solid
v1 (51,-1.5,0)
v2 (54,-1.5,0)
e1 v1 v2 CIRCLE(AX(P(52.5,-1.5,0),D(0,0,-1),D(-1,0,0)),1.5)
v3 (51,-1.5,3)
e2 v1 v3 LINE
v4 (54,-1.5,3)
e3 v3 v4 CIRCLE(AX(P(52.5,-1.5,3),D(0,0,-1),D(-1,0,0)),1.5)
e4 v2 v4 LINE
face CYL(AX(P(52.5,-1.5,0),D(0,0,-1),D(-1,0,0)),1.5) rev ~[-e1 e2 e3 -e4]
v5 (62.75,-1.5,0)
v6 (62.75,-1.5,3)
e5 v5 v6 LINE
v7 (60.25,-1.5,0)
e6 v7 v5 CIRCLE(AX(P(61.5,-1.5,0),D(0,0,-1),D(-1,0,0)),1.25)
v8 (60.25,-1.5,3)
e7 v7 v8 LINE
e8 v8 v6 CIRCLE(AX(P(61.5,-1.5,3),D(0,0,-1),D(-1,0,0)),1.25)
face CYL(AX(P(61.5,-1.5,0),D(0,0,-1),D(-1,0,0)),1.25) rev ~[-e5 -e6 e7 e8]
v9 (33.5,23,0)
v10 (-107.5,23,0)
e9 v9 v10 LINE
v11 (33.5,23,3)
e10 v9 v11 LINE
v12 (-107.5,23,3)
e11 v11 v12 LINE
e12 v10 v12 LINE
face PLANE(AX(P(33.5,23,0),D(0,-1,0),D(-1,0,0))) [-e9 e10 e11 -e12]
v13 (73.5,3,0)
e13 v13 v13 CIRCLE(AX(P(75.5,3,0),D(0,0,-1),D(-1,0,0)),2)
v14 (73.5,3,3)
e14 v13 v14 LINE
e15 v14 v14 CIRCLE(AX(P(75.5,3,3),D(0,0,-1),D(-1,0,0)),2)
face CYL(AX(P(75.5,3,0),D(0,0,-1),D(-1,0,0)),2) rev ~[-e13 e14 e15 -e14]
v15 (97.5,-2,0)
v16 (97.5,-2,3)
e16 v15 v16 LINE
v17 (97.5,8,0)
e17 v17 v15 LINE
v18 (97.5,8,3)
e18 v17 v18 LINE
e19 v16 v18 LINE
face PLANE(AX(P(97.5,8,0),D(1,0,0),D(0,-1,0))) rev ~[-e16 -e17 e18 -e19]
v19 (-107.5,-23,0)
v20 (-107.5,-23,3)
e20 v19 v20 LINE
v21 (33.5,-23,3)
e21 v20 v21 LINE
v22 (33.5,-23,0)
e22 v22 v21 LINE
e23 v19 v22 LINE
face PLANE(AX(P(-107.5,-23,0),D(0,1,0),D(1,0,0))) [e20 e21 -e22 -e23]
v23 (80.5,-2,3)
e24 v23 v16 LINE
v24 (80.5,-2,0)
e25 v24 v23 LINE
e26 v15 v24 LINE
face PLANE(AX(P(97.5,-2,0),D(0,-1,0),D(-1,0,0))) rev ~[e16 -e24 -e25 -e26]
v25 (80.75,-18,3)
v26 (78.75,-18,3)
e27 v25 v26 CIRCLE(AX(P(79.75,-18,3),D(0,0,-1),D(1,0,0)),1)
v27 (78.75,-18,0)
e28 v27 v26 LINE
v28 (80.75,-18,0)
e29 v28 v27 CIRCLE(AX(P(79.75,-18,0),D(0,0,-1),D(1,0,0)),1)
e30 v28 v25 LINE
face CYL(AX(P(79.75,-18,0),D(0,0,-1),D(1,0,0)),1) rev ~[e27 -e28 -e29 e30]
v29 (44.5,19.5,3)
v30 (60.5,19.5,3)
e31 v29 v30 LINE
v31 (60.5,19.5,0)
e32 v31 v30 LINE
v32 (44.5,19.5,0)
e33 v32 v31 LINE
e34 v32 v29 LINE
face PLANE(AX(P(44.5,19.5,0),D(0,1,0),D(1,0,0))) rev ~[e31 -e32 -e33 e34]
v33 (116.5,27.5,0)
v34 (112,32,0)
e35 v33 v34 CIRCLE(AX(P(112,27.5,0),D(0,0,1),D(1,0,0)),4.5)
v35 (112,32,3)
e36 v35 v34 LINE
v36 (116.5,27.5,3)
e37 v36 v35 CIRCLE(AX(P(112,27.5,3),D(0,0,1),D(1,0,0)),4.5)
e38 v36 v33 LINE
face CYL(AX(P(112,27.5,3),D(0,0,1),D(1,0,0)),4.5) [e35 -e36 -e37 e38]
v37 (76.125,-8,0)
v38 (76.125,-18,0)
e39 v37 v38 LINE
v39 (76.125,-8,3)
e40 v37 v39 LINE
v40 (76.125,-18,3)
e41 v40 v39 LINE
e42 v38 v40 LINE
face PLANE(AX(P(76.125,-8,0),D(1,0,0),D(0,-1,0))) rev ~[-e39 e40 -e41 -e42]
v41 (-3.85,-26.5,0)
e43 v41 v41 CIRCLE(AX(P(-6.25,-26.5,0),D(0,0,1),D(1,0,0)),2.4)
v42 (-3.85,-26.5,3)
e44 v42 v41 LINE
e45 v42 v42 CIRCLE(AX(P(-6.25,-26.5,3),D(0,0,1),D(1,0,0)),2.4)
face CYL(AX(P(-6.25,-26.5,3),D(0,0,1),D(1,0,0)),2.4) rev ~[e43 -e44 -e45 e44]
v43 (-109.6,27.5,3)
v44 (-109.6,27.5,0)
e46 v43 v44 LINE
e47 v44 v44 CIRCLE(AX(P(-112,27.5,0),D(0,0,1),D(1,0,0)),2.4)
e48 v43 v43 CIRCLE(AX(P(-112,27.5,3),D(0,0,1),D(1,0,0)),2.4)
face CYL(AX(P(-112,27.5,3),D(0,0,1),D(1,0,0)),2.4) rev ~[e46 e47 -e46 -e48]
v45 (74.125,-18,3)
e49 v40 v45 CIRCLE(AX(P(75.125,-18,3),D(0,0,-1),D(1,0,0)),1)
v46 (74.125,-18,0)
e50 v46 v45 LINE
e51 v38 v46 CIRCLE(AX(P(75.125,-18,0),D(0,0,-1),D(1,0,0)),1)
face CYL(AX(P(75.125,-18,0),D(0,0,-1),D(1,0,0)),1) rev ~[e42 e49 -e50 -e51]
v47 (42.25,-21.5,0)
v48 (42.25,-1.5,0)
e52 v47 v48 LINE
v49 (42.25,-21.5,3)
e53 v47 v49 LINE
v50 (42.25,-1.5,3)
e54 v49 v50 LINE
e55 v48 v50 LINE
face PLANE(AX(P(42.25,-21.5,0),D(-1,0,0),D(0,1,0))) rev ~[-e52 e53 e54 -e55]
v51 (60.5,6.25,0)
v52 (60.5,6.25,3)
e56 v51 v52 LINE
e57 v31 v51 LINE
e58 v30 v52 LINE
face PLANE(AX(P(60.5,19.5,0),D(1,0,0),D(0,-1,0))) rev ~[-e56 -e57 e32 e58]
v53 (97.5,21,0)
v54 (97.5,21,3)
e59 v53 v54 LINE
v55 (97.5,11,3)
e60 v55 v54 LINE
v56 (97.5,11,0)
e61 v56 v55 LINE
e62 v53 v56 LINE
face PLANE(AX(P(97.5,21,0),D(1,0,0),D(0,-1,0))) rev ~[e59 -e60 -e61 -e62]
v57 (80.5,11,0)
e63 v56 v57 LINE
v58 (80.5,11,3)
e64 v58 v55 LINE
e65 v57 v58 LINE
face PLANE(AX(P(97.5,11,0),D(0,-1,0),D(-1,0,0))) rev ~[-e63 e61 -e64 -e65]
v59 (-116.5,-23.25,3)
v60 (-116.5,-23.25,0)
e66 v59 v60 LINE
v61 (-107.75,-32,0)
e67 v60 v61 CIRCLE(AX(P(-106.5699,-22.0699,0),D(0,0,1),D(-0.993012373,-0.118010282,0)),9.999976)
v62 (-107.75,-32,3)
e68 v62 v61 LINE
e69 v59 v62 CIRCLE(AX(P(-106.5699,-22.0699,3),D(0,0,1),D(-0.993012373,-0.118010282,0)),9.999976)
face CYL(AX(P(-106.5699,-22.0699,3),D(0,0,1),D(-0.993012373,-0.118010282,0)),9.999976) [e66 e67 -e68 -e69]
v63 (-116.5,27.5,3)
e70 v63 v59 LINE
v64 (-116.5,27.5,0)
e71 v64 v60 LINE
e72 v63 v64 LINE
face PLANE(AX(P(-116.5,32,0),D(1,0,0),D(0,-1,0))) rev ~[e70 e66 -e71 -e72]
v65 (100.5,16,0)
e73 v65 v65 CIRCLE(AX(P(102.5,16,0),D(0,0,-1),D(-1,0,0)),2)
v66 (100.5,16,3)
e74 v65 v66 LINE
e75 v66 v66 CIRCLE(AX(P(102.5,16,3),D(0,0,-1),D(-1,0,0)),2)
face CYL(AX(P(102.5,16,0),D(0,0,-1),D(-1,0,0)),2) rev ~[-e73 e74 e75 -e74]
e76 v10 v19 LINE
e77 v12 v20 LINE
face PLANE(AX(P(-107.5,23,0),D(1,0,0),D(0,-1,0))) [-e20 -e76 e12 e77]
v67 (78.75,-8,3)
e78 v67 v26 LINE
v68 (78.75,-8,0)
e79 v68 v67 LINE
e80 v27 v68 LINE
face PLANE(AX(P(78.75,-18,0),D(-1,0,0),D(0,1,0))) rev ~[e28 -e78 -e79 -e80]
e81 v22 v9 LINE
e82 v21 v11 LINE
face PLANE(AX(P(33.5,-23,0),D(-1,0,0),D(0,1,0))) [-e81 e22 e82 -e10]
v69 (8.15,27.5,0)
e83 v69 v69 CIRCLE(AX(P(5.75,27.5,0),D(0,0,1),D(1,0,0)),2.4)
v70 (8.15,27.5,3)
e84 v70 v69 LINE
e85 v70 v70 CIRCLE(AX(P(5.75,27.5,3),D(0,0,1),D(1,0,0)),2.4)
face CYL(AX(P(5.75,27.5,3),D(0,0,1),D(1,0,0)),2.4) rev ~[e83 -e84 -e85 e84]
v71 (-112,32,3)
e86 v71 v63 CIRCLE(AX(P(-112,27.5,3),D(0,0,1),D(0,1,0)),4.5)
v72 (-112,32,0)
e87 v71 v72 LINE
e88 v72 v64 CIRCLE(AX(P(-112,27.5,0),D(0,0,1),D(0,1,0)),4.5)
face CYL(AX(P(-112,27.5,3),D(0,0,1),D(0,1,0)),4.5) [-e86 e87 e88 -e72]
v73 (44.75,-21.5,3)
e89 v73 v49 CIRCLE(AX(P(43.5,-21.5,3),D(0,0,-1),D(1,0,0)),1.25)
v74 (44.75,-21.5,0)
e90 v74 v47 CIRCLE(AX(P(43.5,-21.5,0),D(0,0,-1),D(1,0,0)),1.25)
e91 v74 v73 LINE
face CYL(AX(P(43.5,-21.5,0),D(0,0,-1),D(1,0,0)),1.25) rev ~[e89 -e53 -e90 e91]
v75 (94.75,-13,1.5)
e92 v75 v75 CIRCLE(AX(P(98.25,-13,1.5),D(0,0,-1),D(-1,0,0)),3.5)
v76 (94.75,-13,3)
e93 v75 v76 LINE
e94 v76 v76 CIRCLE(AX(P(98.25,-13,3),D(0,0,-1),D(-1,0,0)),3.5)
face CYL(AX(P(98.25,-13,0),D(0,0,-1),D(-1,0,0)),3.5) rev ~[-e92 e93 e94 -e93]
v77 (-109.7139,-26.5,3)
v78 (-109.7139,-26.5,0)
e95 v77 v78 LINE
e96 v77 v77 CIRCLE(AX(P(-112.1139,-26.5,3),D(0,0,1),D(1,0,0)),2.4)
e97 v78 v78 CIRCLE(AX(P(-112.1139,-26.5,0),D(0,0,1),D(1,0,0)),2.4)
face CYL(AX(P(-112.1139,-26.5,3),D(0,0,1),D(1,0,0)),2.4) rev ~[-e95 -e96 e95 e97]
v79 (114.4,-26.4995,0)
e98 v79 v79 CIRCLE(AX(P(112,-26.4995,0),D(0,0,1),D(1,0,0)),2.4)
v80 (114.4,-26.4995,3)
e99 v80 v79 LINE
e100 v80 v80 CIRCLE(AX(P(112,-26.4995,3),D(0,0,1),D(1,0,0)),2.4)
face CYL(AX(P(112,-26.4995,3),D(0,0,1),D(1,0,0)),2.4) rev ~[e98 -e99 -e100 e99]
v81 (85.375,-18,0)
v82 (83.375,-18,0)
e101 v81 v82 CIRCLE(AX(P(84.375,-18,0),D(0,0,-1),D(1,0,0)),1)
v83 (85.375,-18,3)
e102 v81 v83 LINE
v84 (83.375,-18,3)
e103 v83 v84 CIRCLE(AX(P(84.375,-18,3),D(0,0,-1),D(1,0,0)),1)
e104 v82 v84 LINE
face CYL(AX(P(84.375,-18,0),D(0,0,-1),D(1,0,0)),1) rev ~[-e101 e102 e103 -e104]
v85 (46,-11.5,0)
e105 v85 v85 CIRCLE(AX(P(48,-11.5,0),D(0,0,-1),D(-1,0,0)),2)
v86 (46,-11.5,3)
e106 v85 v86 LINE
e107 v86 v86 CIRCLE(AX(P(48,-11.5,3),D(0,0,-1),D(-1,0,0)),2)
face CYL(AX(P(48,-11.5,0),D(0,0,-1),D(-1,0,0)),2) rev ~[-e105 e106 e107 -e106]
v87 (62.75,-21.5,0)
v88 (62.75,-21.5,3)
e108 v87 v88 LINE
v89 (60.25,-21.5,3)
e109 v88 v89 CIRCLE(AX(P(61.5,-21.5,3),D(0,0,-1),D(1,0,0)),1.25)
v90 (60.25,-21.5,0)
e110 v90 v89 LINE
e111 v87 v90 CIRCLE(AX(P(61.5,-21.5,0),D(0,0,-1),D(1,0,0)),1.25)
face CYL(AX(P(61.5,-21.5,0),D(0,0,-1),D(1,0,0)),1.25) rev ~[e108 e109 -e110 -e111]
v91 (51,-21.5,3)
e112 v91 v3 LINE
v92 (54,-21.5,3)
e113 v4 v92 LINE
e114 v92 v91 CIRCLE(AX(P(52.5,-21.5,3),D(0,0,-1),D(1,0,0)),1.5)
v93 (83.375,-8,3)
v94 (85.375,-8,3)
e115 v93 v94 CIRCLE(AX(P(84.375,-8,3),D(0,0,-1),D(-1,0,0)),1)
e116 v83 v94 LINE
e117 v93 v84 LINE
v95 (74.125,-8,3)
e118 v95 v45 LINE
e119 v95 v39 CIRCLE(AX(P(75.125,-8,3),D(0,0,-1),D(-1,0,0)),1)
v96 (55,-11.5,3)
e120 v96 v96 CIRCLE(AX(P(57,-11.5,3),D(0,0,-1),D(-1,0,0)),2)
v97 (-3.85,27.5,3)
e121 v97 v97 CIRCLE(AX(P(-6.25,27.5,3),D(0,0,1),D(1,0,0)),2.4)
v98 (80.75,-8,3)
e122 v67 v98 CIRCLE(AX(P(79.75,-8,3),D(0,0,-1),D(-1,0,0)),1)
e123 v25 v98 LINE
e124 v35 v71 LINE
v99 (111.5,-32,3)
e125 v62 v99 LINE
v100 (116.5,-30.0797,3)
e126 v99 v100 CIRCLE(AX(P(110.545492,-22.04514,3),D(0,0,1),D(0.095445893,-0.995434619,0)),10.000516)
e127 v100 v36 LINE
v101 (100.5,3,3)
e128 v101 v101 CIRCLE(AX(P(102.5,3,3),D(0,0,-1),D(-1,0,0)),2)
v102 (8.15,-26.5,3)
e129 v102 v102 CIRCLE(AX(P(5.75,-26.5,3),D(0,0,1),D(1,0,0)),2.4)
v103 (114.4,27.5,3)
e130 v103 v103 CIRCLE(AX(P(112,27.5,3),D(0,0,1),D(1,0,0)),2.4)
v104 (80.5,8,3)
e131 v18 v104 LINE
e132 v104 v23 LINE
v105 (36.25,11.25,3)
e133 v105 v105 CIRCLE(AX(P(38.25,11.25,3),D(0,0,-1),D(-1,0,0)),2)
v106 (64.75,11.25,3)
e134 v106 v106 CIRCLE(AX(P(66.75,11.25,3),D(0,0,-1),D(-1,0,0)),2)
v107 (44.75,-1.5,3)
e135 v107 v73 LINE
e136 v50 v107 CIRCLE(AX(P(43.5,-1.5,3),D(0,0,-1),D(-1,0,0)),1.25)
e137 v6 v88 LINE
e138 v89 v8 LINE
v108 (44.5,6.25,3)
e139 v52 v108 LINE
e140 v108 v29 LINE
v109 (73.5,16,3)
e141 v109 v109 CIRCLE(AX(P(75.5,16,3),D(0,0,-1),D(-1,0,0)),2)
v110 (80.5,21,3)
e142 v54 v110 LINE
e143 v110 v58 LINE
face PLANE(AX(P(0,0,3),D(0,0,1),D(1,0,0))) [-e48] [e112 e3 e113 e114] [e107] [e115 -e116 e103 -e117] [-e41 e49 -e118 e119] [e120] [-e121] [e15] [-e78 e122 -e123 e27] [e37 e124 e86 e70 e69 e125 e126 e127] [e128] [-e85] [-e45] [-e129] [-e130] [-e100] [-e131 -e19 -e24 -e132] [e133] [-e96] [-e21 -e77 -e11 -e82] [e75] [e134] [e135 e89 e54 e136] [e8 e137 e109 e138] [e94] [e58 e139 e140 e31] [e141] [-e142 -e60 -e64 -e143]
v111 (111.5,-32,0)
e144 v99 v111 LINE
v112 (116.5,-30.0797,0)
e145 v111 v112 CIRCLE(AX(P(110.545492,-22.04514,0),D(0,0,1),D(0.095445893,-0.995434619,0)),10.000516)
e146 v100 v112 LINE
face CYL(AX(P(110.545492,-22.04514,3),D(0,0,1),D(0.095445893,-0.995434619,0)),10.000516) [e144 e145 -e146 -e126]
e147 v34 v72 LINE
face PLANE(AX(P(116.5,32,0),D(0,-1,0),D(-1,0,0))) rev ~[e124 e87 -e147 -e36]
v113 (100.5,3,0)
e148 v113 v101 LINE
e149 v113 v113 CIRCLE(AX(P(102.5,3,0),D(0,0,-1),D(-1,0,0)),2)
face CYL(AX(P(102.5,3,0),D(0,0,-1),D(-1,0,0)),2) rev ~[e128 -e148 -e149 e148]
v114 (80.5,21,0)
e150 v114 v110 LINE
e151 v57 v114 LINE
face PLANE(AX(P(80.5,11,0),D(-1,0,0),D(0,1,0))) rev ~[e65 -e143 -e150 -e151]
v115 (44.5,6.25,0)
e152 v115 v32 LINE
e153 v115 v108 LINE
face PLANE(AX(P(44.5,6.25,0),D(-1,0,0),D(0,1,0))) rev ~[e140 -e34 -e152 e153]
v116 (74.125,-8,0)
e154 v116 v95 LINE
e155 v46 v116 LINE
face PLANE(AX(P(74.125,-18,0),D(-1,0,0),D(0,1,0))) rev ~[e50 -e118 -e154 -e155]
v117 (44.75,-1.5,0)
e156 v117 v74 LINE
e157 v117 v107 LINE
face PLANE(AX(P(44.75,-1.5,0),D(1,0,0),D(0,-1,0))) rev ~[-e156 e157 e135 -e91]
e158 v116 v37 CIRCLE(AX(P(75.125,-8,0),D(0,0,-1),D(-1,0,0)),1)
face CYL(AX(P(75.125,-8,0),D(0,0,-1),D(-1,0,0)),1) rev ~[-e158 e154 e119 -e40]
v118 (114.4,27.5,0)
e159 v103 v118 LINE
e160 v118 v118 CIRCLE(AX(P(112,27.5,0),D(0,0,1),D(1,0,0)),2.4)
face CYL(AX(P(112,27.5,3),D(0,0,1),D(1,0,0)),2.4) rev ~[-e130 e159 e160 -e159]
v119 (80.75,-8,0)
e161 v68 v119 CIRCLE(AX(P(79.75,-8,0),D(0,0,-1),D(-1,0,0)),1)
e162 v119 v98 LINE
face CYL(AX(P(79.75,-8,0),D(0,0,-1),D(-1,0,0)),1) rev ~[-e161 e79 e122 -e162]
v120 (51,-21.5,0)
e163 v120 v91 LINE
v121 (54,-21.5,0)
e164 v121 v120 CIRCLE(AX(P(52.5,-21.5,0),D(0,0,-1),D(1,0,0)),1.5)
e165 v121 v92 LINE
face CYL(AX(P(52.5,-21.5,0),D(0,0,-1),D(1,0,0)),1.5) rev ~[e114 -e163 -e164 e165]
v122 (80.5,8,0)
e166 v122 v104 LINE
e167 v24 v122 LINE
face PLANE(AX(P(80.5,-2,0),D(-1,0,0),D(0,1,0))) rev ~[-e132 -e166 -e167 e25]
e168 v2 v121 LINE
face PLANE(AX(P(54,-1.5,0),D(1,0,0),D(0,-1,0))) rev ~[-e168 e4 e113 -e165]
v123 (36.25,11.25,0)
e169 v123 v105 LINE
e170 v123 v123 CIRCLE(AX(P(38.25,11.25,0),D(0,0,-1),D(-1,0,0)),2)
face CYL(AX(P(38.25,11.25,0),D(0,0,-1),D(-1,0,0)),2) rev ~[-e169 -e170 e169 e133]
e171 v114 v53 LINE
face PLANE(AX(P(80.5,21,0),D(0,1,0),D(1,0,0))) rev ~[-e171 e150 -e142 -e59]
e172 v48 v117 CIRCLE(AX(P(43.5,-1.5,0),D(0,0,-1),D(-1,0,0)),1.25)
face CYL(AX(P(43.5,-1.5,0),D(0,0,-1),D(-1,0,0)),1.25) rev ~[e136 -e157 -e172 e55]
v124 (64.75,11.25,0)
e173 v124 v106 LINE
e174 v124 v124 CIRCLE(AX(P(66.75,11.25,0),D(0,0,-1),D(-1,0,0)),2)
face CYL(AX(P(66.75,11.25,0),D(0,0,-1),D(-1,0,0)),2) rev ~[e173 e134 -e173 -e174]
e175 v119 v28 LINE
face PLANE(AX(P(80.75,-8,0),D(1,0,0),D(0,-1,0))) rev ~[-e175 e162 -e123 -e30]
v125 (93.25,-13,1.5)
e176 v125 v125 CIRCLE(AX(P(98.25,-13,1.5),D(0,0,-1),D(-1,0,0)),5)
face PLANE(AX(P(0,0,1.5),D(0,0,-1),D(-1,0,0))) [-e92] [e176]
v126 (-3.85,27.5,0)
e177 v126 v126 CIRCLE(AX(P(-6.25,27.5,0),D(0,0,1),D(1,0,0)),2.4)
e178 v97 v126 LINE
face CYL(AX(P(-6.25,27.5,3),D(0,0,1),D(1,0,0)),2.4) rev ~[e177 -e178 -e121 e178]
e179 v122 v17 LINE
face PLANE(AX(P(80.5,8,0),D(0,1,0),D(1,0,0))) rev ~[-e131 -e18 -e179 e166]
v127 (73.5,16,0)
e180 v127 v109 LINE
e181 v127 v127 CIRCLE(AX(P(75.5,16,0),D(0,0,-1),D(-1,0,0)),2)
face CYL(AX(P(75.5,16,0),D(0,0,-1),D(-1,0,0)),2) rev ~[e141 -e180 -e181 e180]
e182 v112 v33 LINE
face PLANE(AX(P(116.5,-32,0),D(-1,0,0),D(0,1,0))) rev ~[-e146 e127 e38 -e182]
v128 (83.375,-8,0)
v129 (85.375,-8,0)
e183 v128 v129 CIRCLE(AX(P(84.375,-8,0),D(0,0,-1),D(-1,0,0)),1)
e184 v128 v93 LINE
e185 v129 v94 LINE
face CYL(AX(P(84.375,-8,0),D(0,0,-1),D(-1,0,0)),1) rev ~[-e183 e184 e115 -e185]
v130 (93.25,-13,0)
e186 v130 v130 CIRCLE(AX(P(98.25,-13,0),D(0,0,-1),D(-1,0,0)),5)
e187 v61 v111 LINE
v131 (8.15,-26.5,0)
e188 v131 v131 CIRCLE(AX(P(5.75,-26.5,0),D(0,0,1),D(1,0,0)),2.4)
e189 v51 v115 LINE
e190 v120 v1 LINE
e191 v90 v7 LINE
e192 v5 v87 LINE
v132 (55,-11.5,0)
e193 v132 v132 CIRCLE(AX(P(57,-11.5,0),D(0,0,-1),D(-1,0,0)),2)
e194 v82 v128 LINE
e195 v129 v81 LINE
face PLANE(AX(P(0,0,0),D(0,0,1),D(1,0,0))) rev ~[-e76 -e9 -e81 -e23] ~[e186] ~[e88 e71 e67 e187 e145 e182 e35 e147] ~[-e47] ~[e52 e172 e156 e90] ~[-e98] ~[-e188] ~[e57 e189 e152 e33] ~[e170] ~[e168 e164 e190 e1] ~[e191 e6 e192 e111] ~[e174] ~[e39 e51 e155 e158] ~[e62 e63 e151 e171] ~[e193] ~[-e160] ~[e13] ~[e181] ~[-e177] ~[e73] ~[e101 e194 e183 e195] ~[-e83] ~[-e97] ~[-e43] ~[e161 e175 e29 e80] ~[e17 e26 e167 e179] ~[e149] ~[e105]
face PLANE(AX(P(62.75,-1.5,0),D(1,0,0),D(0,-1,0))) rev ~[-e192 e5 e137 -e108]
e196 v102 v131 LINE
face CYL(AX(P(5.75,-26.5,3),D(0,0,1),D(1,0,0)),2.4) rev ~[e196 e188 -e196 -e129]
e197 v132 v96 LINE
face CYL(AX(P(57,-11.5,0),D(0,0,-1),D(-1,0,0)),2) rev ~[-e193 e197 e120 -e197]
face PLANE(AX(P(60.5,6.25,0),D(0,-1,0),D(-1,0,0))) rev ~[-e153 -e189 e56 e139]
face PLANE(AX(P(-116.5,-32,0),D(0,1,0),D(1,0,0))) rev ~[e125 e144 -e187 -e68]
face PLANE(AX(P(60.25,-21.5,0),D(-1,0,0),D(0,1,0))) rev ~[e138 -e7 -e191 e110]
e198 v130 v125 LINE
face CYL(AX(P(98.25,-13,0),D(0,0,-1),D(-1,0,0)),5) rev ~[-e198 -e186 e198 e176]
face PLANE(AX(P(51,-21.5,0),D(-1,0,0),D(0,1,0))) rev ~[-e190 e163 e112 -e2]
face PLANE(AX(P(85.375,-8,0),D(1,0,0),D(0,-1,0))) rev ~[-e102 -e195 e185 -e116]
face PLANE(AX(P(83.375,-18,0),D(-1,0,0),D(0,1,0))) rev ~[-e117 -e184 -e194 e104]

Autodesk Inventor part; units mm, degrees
ref_plane "YZ Plane" through (0, 0, 0) normal (1, 0, 0) x (0, 1, 0)
ref_plane "XZ Plane" through (0, 0, 0) normal (0, 1, 0) x (-1, 0, 0)
ref_plane "XY Plane" through (0, 0, 0) normal (0, 0, 1) x (1, 0, 0)
sketch "Sketch1" plane through (0, 0, 0) normal (0, 0, 1) x (1, 0, 0)
  line L0 (-116.5, -32) -> (116.5, -32)
  line L1 (116.5, -32) -> (116.5, 32)
  line L2 (116.5, 32) -> (-116.5, 32)
  line L3 (-116.5, 32) -> (-116.5, -32)
  line L4 (-116.5, -32) -> (116.5, 32) construction
  line L5 (116.5, -32) -> (-116.5, 32) construction
  point P0 (0, 0)
  dimension "d0" = 233
  dimension "d1" = 64
extrude "Extrusion1" add sketch "Sketch1" along normal blind 3
sketch "Sketch2" plane through (0, 0, 3) normal (0, 0, 1) x (1, 0, 0)
  arc A0 (-112, 32) -> (-116.5, 27.5) centre (-112, 27.5) ccw
  line L0 (116.5, 32) -> (-116.5, 32) projected
  line L1 (-116.5, 32) -> (-116.5, -32) projected
  arc A1 (116.5, 27.5) -> (112, 32) centre (112, 27.5) ccw
  line L2 (116.5, -32) -> (116.5, 32) projected
  line L3 (-112, 27.5) -> (-112, -26.5) construction
  line L4 (-116.5, -32) -> (116.5, -32) construction
  line L5 (-112, -26.5) -> (-107.482, -26.5) construction
  line L6 (-107.482, -26.5) -> (-107.482, -22) construction
  line L7 (-107.5, -22) -> (107.5, -22) construction
  line L8 (107.5, -22) -> (107.5, 23) construction
  line L9 (107.5, 23) -> (-107.5, 23) construction
  line L10 (-107.5, 23) -> (-107.5, -22) construction
  line L11 (-107.5, -22) -> (107.5, 23) construction
  line L12 (107.5, -22) -> (-107.5, 23) construction
  point P0 (0, 0)
  point P1 (0, 0.5)
  dimension "d4" = 9
  dimension "d5" = 9
  dimension "d6" = 54
  dimension "d7" = 4.518
  dimension "d8" = 4.5
  dimension "d9" = 215
  dimension "d10" = 45
  dimension "d11" = 9
  dimension "d12" = 9
  dimension "d13" = 9
extrude "Extrusion2" cut sketch "Sketch2" against normal blind 5
sketch "Sketch6" plane through (0, 0, 3) normal (0, 0, 1) x (1, 0, 0)
  line L0 (107.5, -22) -> (-107.5, -22) construction
  line L1 (-107.5, -22) -> (-116.5, -22) construction
  line L2 (-116.5, 27.5) -> (-116.5, -32) construction
  line L3 (-107.5, -22) -> (-107.5, -32) construction
  line L4 (-116.5, -32) -> (116.5, -32) construction
  arc A0 (-116.5, -27) -> (-111.5, -32) centre (-111.5, -27) ccw
  line L5 (-111.5, -32) -> (-116.5, -32)
  line L6 (-116.5, -32) -> (-116.5, -27)
  point P0 (0, 0)
  dimension "d32" = 10
extrude "Extrusion6" cut sketch "Sketch6" against normal blind 5
sketch "Sketch7" plane through (0, 0, 3) normal (0, 0, 1) x (1, 0, 0)
  arc A0 (-112, 32) -> (-116.5, 27.5) centre (-112, 27.5) ccw projected
  circle A1 centre (-112, 27.5) radius 2.4
  arc A2 (116.5, 27.5) -> (112, 32) centre (112, 27.5) ccw projected
  circle A3 centre (112, 27.5) radius 2.4
  point P0 (0, 0)
  dimension "d35" = 4.8
  dimension "d36" = 4.8
extrude "Extrusion7" cut sketch "Sketch7" against normal blind 5
sketch "Sketch8" plane through (0, 0, 3) normal (0, 0, 1) x (1, 0, 0)
  arc A0 (-116.5, -27) -> (-111.5, -32) centre (-111.5, -27) ccw construction
  line L0 (-116.5, -27) -> (-116.5, -23.25) construction
  line L1 (-116.5, 27.5) -> (-116.5, -27) construction
  line L2 (-111.5, -32) -> (-107.75, -32) construction
  line L3 (-111.5, -32) -> (116.5, -32) construction
  arc A1 (-116.5, -23.25) -> (-107.75, -32) centre (-106.5699, -22.0699) ccw
  line L4 (-116.5, -23.25) -> (-116.5, -27)
  line L5 (-107.75, -32) -> (-111.5, -32)
  arc A2 (-116.5, -27) -> (-111.5, -32) centre (-111.5, -27) ccw
  point P0 (0, 0)
  dimension "d39" = 3.75
  dimension "d40" = 3.75
  dimension "d41" = 10
extrude "Extrusion8" cut sketch "Sketch8" against normal blind 5
sketch "Sketch9" plane through (0, 0, 3) normal (0, 0, 1) x (1, 0, 0)
  line L0 (-107.5, -22) -> (107.5, -22) construction
  line L1 (107.5, -22) -> (107.5, -32) construction
  line L2 (-107.75, -32) -> (116.5, -32) construction
  line L3 (107.5, -22) -> (120.5, -22) construction
  line L4 (107.5, -32) -> (111.5, -32) construction
  line L5 (120.5, -22) -> (120.5, -23) construction
  arc A0 (111.5, -32) -> (120.5, -23) centre (110.5456, -22.0456) ccw construction
  line L6 (116.5, -32) -> (116.5, 27.5) projected
  arc A1 (111.5, -32) -> (116.5, -30.0797) centre (110.5456, -22.0456) ccw
  line L7 (116.5, -30.0797) -> (116.5, -32)
  line L8 (111.5, -32) -> (116.5, -32)
  point P0 (0, 0)
  dimension "d44" = 13
  dimension "d45" = 4
  dimension "d46" = 1
  dimension "d47" = 10
extrude "Extrusion9" cut sketch "Sketch9" against normal blind 5
sketch "Sketch10" plane through (0, 0, 3) normal (0, 0, 1) x (1, 0, 0)
  circle A0 centre (5.75, 27.5) radius 2.4
  line L0 (112, 32) -> (-112, 32) projected
  line L1 (-107.5, 23) -> (107.5, 23) projected
  circle A1 centre (112, 27.5) radius 2.4 projected
  circle A2 centre (-6.25, 27.5) radius 2.4
  circle A3 centre (5.75, -26.5) radius 2.4
  circle A4 centre (-6.25, -26.5) radius 2.4
  point P0 (0, 0)
  dimension "d50" = 4.8
  dimension "d51" = 4.5
  dimension "d52" = 4.5
  dimension "d53" = 106.25
  dimension "d54" = 4.8
  dimension "d55" = 12
  dimension "d56" = 4.8
  dimension "d57" = 54
  dimension "d58" = 4.8
  dimension "d59" = 12
extrude "Extrusion10" cut sketch "Sketch10" against normal blind 5 contours A0 | A2 | A3 | A4
sketch "Sketch11" plane through (0, 0, 3) normal (0, 0, 1) x (1, 0, 0)
  circle A0 centre (112, -26.4995) radius 2.4
  circle A1 centre (112, 27.5) radius 2.4 construction
  circle A2 centre (112, 27.5) radius 2.4 construction
  circle A3 centre (112, -26.4995) radius 4.5 construction
  line L0 (-107.5, -22) -> (107.5, -22) construction
  line L1 (107.5, -22) -> (112.0687, -22) construction
  line L2 (107.5, -22) -> (107.5, 23) construction
  line L3 (107.5, -22) -> (107.5, -26.4995) construction
  point P0 (0, 0)
  dimension "d62" = 4.8
  dimension "d63" = 9
extrude "Extrusion11" cut sketch "Sketch11" against normal blind 5
sketch "Sketch12" plane through (0, 0, 3) normal (0, 0, 1) x (1, 0, 0)
  line L0 (-107.5, -22) -> (107.5, -22) construction
  line L1 (-107.5, -22) -> (-116.5, -22) construction
  line L2 (-116.5, 27.5) -> (-116.5, -23.25) construction
  arc A0 (-116.5, -23.25) -> (-107.75, -32) centre (-106.5699, -22.0699) ccw construction
  line L3 (-107.5, -22) -> (-107.75, -32) construction
  circle A1 centre (-112.1139, -26.5) radius 4.5 construction
  circle A2 centre (-112.1139, -26.5) radius 2.4
  point P0 (0, 0)
  dimension "d66" = 9
  dimension "d67" = 4.8
extrude "Extrusion12" cut sketch "Sketch12" against normal blind 5
sketch "Sketch22" plane through (0, 0, 0) normal (0, 0, -1) x (-1, 0, 0)
  line L0 (107.75, -32) -> (-111.5, -32) construction
  line L1 (-116.5, 32) -> (-107.5, 32) construction
  line L2 (-107.5, 32) -> (-107.5, -32) construction
  line L3 (-107.5, -32) -> (-116.5, -32) construction
  line L4 (-116.5, -32) -> (-116.5, 32) construction
  line L5 (116.5, 27.5) -> (116.5, -23.25) construction
  line L6 (-116.5, -32) -> (116.5, -32) construction
  line L7 (116.5, -32) -> (116.5, -23) construction
  line L8 (116.5, -23) -> (-116.5, -23) construction
  line L9 (-116.5, -23) -> (-116.5, -32) construction
  line L10 (-112, 32) -> (112, 32) construction
  line L11 (116.5, -32) -> (107.5, -32) construction
  line L12 (107.5, -32) -> (107.5, 32) construction
  line L13 (107.5, 32) -> (116.5, 32) construction
  line L14 (116.5, 32) -> (116.5, -32) construction
  line L15 (-116.5, -30.0797) -> (-116.5, 27.5) construction
  line L16 (116.5, 32) -> (-116.5, 32) construction
  line L17 (-116.5, 32) -> (-116.5, 23) construction
  line L18 (-116.5, 23) -> (116.5, 23) construction
  line L19 (116.5, 23) -> (116.5, 32) construction
  line L20 (-107.5, 23) -> (-107.5, 16) construction
  line L21 (-107.5, 16) -> (-102.5, 16) construction
  circle A0 centre (-102.5, 16) radius 5 construction
  line L22 (-97.5, 16) -> (-80.5, 16) construction
  line L23 (-80.5, 16) -> (-75.5, 16) construction
  circle A1 centre (-75.5, 16) radius 5 construction
  line L24 (-80.5, 10) -> (-97.5, 10) construction
  line L25 (-97.5, 10) -> (-97.5, 22) construction
  line L26 (-97.5, 22) -> (-80.5, 22) construction
  line L27 (-80.5, 22) -> (-80.5, 10) construction
  line L28 (-80.5, 10) -> (-97.5, 22) construction
  line L29 (-97.5, 10) -> (-80.5, 22) construction
  line L30 (-97.5, 22) -> (-99.5, 22) construction
  line L31 (-99.5, 22) -> (-99.5, 10) construction
  line L32 (-99.5, 10) -> (-97.5, 9) construction
  line L33 (-80.5, 22) -> (-78.5, 22) construction
  line L34 (-78.5, 22) -> (-78.5, 10) construction
  line L35 (-78.5, 10) -> (-80.5, 10) construction
  line L36 (-97.5, 11) -> (-80.5, 11)
  line L37 (-80.5, 11) -> (-80.5, 21)
  line L38 (-80.5, 21) -> (-97.5, 21)
  line L39 (-97.5, 21) -> (-97.5, 11)
  line L40 (-97.5, 11) -> (-80.5, 21) construction
  line L41 (-80.5, 11) -> (-97.5, 21) construction
  circle A2 centre (-102.5, 16) radius 2
  circle A3 centre (-75.5, 16) radius 2
  line L42 (-97.5, 9) -> (-80.5, 9) construction
  line L43 (-80.5, 9) -> (-80.5, -3) construction
  line L44 (-80.5, -3) -> (-97.5, -3) construction
  line L45 (-97.5, -3) -> (-97.5, 9) construction
  line L46 (-97.5, 3) -> (-102.5, 3) construction
  line L47 (-80.5, 3) -> (-75.5, 3) construction
  circle A4 centre (-102.5, 3) radius 5 construction
  circle A5 centre (-75.5, 3) radius 5 construction
  line L48 (-97.5, 9) -> (-99.5, 10) construction
  line L49 (-99.5, 10) -> (-99.5, -3) construction
  line L50 (-99.5, -3) -> (-97.5, -3) construction
  line L51 (-80.5, -3) -> (-78.5, -3) construction
  line L52 (-78.5, -3) -> (-78.5, 10) construction
  line L53 (-78.5, 10) -> (-80.5, 10) construction
  line L54 (-89, 9) -> (-89, -3) construction
  line L55 (-97.5, 3) -> (-80.5, 3) construction
  line L56 (-97.5, -2) -> (-80.5, -2)
  line L57 (-80.5, -2) -> (-80.5, 8)
  line L58 (-80.5, 8) -> (-97.5, 8)
  line L59 (-97.5, 8) -> (-97.5, -2)
  line L60 (-97.5, -2) -> (-80.5, 8) construction
  line L61 (-80.5, -2) -> (-97.5, 8) construction
  circle A6 centre (-102.5, 3) radius 2
  circle A7 centre (-75.5, 3) radius 2
  line L62 (-89, -3) -> (-89, -23) construction
  line L63 (-89, -13) -> (-107.5, -13) construction
  line L64 (-70.5, 16) -> (-70.5, 23) construction
  line L65 (-70.5, 16) -> (-70.5, -23) construction
  line L66 (-89, -13) -> (-70.5, -13) construction
  circle A8 centre (-98.25, -13) radius 3.5
  line L67 (-79.75, -18) -> (-79.75, -8) construction
  line L68 (-78.75, -18) -> (-78.75, -8)
  line L69 (-80.75, -8) -> (-80.75, -18)
  arc A9 (-80.75, -18) -> (-78.75, -18) centre (-79.75, -18) ccw
  arc A10 (-78.75, -8) -> (-80.75, -8) centre (-79.75, -8) ccw
  line L70 (-89, -13) -> (-79.75, -13) construction
  line L71 (-79.75, -13) -> (-70.5, -13) construction
  line L72 (-84.375, -18) -> (-84.375, -8) construction
  line L73 (-83.375, -18) -> (-83.375, -8)
  line L74 (-85.375, -8) -> (-85.375, -18)
  arc A11 (-85.375, -18) -> (-83.375, -18) centre (-84.375, -18) ccw
  arc A12 (-83.375, -8) -> (-85.375, -8) centre (-84.375, -8) ccw
  line L75 (-75.125, -18) -> (-75.125, -8) construction
  line L76 (-74.125, -18) -> (-74.125, -8)
  line L77 (-76.125, -8) -> (-76.125, -18)
  arc A13 (-76.125, -18) -> (-74.125, -18) centre (-75.125, -18) ccw
  arc A14 (-74.125, -8) -> (-76.125, -8) centre (-75.125, -8) ccw
  point P0 (0, 0)
  point P1 (-89, 16)
  point P2 (-89, 3)
  point P3 (-84.375, -13)
  point P4 (-75.125, -13)
  dimension "d172" = 9
  dimension "d173" = 9
  dimension "d174" = 9
  dimension "d175" = 9
  dimension "d176" = 7
  dimension "d177" = 5
  dimension "d178" = 17
  dimension "d179" = 5
  dimension "d180" = 12
  dimension "d181" = 2
  dimension "d182" = 2
  dimension "d183" = 17
  dimension "d184" = 10
  dimension "d185" = 4
  dimension "d186" = 4
  dimension "d187" = 12
  dimension "d188" = 5
  dimension "d189" = 5
  dimension "d190" = 2
  dimension "d191" = 17
  dimension "d192" = 10
  dimension "d193" = 4
  dimension "d194" = 4
  dimension "d195" = 7
  dimension "d196" = 5
  dimension "d197" = 2
  dimension "d198" = 5
  dimension "d199" = 2
  dimension "d200" = 5
  dimension "d201" = 2
  dimension "d204" = 37
extrude "Extrusion18" cut sketch "Sketch22" against normal blind 20
sketch "Sketch23" plane through (0, 0, 0) normal (0, 0, -1) x (-1, 0, 0)
  line L0 (-112, 32) -> (112, 32) construction
  line L1 (-116.5, -32) -> (-107.5, -32) construction
  line L2 (-107.5, -32) -> (-107.5, 32) construction
  line L3 (-107.5, 32) -> (-116.5, 32) construction
  line L4 (-116.5, 32) -> (-116.5, -32) construction
  line L5 (116.5, 27.5) -> (116.5, -23.25) construction
  line L6 (-116.5, 32) -> (116.5, 32) construction
  line L7 (116.5, 32) -> (116.5, 23) construction
  line L8 (116.5, 23) -> (-116.5, 23) construction
  line L9 (-116.5, 23) -> (-116.5, 32) construction
  line L10 (107.75, -32) -> (-111.5, -32) construction
  line L11 (116.5, 23) -> (107.5, 23) construction
  line L12 (107.5, 23) -> (107.5, -32) construction
  line L13 (107.5, -32) -> (116.5, -32) construction
  line L14 (116.5, -32) -> (116.5, 23) construction
  line L15 (-116.5, -30.0797) -> (-116.5, 27.5) construction
  line L16 (116.5, -32) -> (-116.5, -32) construction
  line L17 (-116.5, -32) -> (-116.5, -23) construction
  line L18 (-116.5, -23) -> (116.5, -23) construction
  line L19 (116.5, -23) -> (116.5, -32) construction
  line L20 (-107.5, 23) -> (-70.5, 23) construction
  line L21 (-70.5, 23) -> (-70.5, -23) construction
  circle A0 centre (-98.25, -13) radius 3.5 projected
  circle A1 centre (-98.25, -13) radius 5
  point P0 (0, 0)
  dimension "d205" = 9
  dimension "d206" = 9
  dimension "d207" = 9
  dimension "d208" = 9
  dimension "d209" = 37
  dimension "d210" = 10
extrude "Extrusion19" cut sketch "Sketch23" against normal blind 1.5
sketch "Sketch24" plane through (0, 0, 0) normal (0, 0, -1) x (-1, 0, 0)
  line L0 (116.5, 27.5) -> (116.5, -23.25) construction
  line L1 (-116.5, 32) -> (116.5, 32) construction
  line L2 (116.5, 32) -> (116.5, 23) construction
  line L3 (116.5, 23) -> (-116.5, 23) construction
  line L4 (-116.5, 23) -> (-116.5, 32) construction
  line L5 (107.75, -32) -> (-111.5, -32) construction
  line L6 (116.5, 32) -> (107.5, 32) construction
  line L7 (107.5, 32) -> (107.5, -32) construction
  line L8 (107.5, -32) -> (116.5, -32) construction
  line L9 (116.5, -32) -> (116.5, 32) construction
  line L10 (-116.5, -30.0797) -> (-116.5, 27.5) construction
  line L11 (116.5, -32) -> (-116.5, -32) construction
  line L12 (-116.5, -32) -> (-116.5, -23) construction
  line L13 (-116.5, -23) -> (116.5, -23) construction
  line L14 (116.5, -23) -> (116.5, -32) construction
  line L15 (-112, 32) -> (112, 32) construction
  line L16 (-116.5, -32) -> (-107.5, -32) construction
  line L17 (-107.5, -32) -> (-107.5, 32) construction
  line L18 (-107.5, 32) -> (-116.5, 32) construction
  line L19 (-116.5, 32) -> (-116.5, -32) construction
  line L20 (-107.5, 23) -> (-70.5, 23) construction
  line L21 (-70.5, 23) -> (-70.5, -23) construction
  line L22 (-70.5, 23) -> (-34.5, 23) construction
  line L23 (-34.5, 23) -> (-34.5, -23) construction
  line L24 (-34.5, 23) -> (-34.5, 0) construction
  line L25 (-34.5, 0) -> (-70.5, 0) construction
  line L26 (-63, 1) -> (-42, 1) construction
  line L27 (-42, 1) -> (-42, 22) construction
  line L28 (-42, 22) -> (-63, 22) construction
  line L29 (-63, 22) -> (-63, 1) construction
  line L30 (-63, 1) -> (-42, 22) construction
  line L31 (-42, 1) -> (-63, 22) construction
  line L32 (-63, 22) -> (-63, 15) construction
  line L33 (-42, 22) -> (-42, 15) construction
  line L34 (-63, 15) -> (-70.5, 15) construction
  line L35 (-70.5, 15) -> (-70.5, 7.5) construction
  line L36 (-70.5, 7.5) -> (-63, 7.5) construction
  line L37 (-42, 15) -> (-34.5, 15) construction
  line L38 (-34.5, 15) -> (-34.5, 7.5) construction
  line L39 (-34.5, 7.5) -> (-42, 7.5) construction
  circle A0 centre (-66.75, 11.25) radius 3.75 construction
  circle A1 centre (-38.25, 11.25) radius 3.75 construction
  line L40 (-52.5, 11.5) -> (-52.5, 12.875) construction
  line L41 (-60.5, 6.25) -> (-44.5, 6.25)
  line L42 (-44.5, 6.25) -> (-44.5, 19.5)
  line L43 (-44.5, 19.5) -> (-60.5, 19.5)
  line L44 (-60.5, 19.5) -> (-60.5, 6.25)
  line L45 (-60.5, 6.25) -> (-44.5, 19.5) construction
  line L46 (-44.5, 6.25) -> (-60.5, 19.5) construction
  circle A2 centre (-66.75, 11.25) radius 2
  circle A3 centre (-38.25, 11.25) radius 2
  line L47 (-52.5, 0) -> (-52.5, -23) construction
  line L48 (-52.5, -23) -> (-70.5, -23) construction
  line L49 (-52.5, -23) -> (-34.5, -23) construction
  line L50 (-61.5, -21.5) -> (-61.5, -1.5) construction
  line L51 (-60.25, -21.5) -> (-60.25, -1.5)
  line L52 (-62.75, -1.5) -> (-62.75, -21.5)
  arc A4 (-62.75, -21.5) -> (-60.25, -21.5) centre (-61.5, -21.5) ccw
  arc A5 (-60.25, -1.5) -> (-62.75, -1.5) centre (-61.5, -1.5) ccw
  line L53 (-61.5, -11.5) -> (-41.5, -11.5) construction
  line L54 (-52.5, -21.5) -> (-52.5, -1.5) construction
  line L55 (-51, -21.5) -> (-51, -1.5)
  line L56 (-54, -1.5) -> (-54, -21.5)
  arc A6 (-54, -21.5) -> (-51, -21.5) centre (-52.5, -21.5) ccw
  arc A7 (-51, -1.5) -> (-54, -1.5) centre (-52.5, -1.5) ccw
  line L57 (-43.5, -21.5) -> (-43.5, -1.5) construction
  line L58 (-42.25, -21.5) -> (-42.25, -1.5)
  line L59 (-44.75, -1.5) -> (-44.75, -21.5)
  arc A8 (-44.75, -21.5) -> (-42.25, -21.5) centre (-43.5, -21.5) ccw
  arc A9 (-42.25, -1.5) -> (-44.75, -1.5) centre (-43.5, -1.5) ccw
  line L60 (-43.5, -11.5) -> (-23.5, -11.5) construction
  line L61 (-61.5, -11.5) -> (-52.5, -11.5) construction
  line L62 (-52.5, -11.5) -> (-43.5, -11.5) construction
  circle A10 centre (-57, -11.5) radius 2
  circle A11 centre (-48, -11.5) radius 2
  point P0 (0, 0)
  dimension "d213" = 9
  dimension "d214" = 9
  dimension "d215" = 9
  dimension "d216" = 9
  dimension "d217" = 37
  dimension "d218" = 36
  dimension "d219" = 21
  dimension "d220" = 21
  dimension "d221" = 7
  dimension "d222" = 7
  dimension "d223" = 7.5
  dimension "d224" = 1.375
  dimension "d225" = 16
  dimension "d226" = 13.25
  dimension "d227" = 4
  dimension "d228" = 4
  dimension "d231" = 10
  dimension "d232" = 90
  dimension "d233" = 2.5
  dimension "d234" = 10
  dimension "d235" = 3
  dimension "d236" = 10
  dimension "d237" = 90
  dimension "d238" = 2.5
  dimension "d239" = 4
  dimension "d240" = 4
extrude "Extrusion20" cut sketch "Sketch24" against normal blind 3
sketch "Sketch25" plane through (0, 0, 0) normal (0, 0, -1) x (-1, 0, 0)
  line L0 (116.5, 27.5) -> (116.5, -23.25) construction
  line L1 (-116.5, 32) -> (116.5, 32) construction
  line L2 (116.5, 32) -> (116.5, 23) construction
  line L3 (116.5, 23) -> (-116.5, 23) construction
  line L4 (-116.5, 23) -> (-116.5, 32) construction
  line L5 (107.75, -32) -> (-111.5, -32) construction
  line L6 (116.5, 32) -> (107.5, 32) construction
  line L7 (107.5, 32) -> (107.5, -32) construction
  line L8 (107.5, -32) -> (116.5, -32) construction
  line L9 (116.5, -32) -> (116.5, 32) construction
  line L10 (-116.5, -30.0797) -> (-116.5, 27.5) construction
  line L11 (116.5, -32) -> (-116.5, -32) construction
  line L12 (-116.5, -32) -> (-116.5, -23) construction
  line L13 (-116.5, -23) -> (116.5, -23) construction
  line L14 (116.5, -23) -> (116.5, -32) construction
  line L15 (-112, 32) -> (112, 32) construction
  line L16 (-116.5, -32) -> (-107.5, -32) construction
  line L17 (-107.5, -32) -> (-107.5, 32) construction
  line L18 (-107.5, 32) -> (-116.5, 32) construction
  line L19 (-116.5, 32) -> (-116.5, -32) construction
  line L20 (-107.5, 23) -> (-70.5, 23) construction
  line L21 (-70.5, 23) -> (-33.5, 23) construction
  line L22 (-33.5, 23) -> (-33.5, -23) construction
  line L23 (-33.5, 23) -> (107.5, 23)
  line L24 (107.5, 23) -> (107.5, -23)
  line L25 (107.5, -23) -> (-33.5, -23)
  line L26 (-33.5, -23) -> (-33.5, 23)
  point P0 (0, 0)
  dimension "d241" = 9
  dimension "d242" = 9
  dimension "d243" = 9
  dimension "d244" = 9
  dimension "d245" = 37
  dimension "d246" = 37
extrude "Extrusion21" cut sketch "Sketch25" against normal blind 3
properties part number "CyberDeckIOPanel2"
